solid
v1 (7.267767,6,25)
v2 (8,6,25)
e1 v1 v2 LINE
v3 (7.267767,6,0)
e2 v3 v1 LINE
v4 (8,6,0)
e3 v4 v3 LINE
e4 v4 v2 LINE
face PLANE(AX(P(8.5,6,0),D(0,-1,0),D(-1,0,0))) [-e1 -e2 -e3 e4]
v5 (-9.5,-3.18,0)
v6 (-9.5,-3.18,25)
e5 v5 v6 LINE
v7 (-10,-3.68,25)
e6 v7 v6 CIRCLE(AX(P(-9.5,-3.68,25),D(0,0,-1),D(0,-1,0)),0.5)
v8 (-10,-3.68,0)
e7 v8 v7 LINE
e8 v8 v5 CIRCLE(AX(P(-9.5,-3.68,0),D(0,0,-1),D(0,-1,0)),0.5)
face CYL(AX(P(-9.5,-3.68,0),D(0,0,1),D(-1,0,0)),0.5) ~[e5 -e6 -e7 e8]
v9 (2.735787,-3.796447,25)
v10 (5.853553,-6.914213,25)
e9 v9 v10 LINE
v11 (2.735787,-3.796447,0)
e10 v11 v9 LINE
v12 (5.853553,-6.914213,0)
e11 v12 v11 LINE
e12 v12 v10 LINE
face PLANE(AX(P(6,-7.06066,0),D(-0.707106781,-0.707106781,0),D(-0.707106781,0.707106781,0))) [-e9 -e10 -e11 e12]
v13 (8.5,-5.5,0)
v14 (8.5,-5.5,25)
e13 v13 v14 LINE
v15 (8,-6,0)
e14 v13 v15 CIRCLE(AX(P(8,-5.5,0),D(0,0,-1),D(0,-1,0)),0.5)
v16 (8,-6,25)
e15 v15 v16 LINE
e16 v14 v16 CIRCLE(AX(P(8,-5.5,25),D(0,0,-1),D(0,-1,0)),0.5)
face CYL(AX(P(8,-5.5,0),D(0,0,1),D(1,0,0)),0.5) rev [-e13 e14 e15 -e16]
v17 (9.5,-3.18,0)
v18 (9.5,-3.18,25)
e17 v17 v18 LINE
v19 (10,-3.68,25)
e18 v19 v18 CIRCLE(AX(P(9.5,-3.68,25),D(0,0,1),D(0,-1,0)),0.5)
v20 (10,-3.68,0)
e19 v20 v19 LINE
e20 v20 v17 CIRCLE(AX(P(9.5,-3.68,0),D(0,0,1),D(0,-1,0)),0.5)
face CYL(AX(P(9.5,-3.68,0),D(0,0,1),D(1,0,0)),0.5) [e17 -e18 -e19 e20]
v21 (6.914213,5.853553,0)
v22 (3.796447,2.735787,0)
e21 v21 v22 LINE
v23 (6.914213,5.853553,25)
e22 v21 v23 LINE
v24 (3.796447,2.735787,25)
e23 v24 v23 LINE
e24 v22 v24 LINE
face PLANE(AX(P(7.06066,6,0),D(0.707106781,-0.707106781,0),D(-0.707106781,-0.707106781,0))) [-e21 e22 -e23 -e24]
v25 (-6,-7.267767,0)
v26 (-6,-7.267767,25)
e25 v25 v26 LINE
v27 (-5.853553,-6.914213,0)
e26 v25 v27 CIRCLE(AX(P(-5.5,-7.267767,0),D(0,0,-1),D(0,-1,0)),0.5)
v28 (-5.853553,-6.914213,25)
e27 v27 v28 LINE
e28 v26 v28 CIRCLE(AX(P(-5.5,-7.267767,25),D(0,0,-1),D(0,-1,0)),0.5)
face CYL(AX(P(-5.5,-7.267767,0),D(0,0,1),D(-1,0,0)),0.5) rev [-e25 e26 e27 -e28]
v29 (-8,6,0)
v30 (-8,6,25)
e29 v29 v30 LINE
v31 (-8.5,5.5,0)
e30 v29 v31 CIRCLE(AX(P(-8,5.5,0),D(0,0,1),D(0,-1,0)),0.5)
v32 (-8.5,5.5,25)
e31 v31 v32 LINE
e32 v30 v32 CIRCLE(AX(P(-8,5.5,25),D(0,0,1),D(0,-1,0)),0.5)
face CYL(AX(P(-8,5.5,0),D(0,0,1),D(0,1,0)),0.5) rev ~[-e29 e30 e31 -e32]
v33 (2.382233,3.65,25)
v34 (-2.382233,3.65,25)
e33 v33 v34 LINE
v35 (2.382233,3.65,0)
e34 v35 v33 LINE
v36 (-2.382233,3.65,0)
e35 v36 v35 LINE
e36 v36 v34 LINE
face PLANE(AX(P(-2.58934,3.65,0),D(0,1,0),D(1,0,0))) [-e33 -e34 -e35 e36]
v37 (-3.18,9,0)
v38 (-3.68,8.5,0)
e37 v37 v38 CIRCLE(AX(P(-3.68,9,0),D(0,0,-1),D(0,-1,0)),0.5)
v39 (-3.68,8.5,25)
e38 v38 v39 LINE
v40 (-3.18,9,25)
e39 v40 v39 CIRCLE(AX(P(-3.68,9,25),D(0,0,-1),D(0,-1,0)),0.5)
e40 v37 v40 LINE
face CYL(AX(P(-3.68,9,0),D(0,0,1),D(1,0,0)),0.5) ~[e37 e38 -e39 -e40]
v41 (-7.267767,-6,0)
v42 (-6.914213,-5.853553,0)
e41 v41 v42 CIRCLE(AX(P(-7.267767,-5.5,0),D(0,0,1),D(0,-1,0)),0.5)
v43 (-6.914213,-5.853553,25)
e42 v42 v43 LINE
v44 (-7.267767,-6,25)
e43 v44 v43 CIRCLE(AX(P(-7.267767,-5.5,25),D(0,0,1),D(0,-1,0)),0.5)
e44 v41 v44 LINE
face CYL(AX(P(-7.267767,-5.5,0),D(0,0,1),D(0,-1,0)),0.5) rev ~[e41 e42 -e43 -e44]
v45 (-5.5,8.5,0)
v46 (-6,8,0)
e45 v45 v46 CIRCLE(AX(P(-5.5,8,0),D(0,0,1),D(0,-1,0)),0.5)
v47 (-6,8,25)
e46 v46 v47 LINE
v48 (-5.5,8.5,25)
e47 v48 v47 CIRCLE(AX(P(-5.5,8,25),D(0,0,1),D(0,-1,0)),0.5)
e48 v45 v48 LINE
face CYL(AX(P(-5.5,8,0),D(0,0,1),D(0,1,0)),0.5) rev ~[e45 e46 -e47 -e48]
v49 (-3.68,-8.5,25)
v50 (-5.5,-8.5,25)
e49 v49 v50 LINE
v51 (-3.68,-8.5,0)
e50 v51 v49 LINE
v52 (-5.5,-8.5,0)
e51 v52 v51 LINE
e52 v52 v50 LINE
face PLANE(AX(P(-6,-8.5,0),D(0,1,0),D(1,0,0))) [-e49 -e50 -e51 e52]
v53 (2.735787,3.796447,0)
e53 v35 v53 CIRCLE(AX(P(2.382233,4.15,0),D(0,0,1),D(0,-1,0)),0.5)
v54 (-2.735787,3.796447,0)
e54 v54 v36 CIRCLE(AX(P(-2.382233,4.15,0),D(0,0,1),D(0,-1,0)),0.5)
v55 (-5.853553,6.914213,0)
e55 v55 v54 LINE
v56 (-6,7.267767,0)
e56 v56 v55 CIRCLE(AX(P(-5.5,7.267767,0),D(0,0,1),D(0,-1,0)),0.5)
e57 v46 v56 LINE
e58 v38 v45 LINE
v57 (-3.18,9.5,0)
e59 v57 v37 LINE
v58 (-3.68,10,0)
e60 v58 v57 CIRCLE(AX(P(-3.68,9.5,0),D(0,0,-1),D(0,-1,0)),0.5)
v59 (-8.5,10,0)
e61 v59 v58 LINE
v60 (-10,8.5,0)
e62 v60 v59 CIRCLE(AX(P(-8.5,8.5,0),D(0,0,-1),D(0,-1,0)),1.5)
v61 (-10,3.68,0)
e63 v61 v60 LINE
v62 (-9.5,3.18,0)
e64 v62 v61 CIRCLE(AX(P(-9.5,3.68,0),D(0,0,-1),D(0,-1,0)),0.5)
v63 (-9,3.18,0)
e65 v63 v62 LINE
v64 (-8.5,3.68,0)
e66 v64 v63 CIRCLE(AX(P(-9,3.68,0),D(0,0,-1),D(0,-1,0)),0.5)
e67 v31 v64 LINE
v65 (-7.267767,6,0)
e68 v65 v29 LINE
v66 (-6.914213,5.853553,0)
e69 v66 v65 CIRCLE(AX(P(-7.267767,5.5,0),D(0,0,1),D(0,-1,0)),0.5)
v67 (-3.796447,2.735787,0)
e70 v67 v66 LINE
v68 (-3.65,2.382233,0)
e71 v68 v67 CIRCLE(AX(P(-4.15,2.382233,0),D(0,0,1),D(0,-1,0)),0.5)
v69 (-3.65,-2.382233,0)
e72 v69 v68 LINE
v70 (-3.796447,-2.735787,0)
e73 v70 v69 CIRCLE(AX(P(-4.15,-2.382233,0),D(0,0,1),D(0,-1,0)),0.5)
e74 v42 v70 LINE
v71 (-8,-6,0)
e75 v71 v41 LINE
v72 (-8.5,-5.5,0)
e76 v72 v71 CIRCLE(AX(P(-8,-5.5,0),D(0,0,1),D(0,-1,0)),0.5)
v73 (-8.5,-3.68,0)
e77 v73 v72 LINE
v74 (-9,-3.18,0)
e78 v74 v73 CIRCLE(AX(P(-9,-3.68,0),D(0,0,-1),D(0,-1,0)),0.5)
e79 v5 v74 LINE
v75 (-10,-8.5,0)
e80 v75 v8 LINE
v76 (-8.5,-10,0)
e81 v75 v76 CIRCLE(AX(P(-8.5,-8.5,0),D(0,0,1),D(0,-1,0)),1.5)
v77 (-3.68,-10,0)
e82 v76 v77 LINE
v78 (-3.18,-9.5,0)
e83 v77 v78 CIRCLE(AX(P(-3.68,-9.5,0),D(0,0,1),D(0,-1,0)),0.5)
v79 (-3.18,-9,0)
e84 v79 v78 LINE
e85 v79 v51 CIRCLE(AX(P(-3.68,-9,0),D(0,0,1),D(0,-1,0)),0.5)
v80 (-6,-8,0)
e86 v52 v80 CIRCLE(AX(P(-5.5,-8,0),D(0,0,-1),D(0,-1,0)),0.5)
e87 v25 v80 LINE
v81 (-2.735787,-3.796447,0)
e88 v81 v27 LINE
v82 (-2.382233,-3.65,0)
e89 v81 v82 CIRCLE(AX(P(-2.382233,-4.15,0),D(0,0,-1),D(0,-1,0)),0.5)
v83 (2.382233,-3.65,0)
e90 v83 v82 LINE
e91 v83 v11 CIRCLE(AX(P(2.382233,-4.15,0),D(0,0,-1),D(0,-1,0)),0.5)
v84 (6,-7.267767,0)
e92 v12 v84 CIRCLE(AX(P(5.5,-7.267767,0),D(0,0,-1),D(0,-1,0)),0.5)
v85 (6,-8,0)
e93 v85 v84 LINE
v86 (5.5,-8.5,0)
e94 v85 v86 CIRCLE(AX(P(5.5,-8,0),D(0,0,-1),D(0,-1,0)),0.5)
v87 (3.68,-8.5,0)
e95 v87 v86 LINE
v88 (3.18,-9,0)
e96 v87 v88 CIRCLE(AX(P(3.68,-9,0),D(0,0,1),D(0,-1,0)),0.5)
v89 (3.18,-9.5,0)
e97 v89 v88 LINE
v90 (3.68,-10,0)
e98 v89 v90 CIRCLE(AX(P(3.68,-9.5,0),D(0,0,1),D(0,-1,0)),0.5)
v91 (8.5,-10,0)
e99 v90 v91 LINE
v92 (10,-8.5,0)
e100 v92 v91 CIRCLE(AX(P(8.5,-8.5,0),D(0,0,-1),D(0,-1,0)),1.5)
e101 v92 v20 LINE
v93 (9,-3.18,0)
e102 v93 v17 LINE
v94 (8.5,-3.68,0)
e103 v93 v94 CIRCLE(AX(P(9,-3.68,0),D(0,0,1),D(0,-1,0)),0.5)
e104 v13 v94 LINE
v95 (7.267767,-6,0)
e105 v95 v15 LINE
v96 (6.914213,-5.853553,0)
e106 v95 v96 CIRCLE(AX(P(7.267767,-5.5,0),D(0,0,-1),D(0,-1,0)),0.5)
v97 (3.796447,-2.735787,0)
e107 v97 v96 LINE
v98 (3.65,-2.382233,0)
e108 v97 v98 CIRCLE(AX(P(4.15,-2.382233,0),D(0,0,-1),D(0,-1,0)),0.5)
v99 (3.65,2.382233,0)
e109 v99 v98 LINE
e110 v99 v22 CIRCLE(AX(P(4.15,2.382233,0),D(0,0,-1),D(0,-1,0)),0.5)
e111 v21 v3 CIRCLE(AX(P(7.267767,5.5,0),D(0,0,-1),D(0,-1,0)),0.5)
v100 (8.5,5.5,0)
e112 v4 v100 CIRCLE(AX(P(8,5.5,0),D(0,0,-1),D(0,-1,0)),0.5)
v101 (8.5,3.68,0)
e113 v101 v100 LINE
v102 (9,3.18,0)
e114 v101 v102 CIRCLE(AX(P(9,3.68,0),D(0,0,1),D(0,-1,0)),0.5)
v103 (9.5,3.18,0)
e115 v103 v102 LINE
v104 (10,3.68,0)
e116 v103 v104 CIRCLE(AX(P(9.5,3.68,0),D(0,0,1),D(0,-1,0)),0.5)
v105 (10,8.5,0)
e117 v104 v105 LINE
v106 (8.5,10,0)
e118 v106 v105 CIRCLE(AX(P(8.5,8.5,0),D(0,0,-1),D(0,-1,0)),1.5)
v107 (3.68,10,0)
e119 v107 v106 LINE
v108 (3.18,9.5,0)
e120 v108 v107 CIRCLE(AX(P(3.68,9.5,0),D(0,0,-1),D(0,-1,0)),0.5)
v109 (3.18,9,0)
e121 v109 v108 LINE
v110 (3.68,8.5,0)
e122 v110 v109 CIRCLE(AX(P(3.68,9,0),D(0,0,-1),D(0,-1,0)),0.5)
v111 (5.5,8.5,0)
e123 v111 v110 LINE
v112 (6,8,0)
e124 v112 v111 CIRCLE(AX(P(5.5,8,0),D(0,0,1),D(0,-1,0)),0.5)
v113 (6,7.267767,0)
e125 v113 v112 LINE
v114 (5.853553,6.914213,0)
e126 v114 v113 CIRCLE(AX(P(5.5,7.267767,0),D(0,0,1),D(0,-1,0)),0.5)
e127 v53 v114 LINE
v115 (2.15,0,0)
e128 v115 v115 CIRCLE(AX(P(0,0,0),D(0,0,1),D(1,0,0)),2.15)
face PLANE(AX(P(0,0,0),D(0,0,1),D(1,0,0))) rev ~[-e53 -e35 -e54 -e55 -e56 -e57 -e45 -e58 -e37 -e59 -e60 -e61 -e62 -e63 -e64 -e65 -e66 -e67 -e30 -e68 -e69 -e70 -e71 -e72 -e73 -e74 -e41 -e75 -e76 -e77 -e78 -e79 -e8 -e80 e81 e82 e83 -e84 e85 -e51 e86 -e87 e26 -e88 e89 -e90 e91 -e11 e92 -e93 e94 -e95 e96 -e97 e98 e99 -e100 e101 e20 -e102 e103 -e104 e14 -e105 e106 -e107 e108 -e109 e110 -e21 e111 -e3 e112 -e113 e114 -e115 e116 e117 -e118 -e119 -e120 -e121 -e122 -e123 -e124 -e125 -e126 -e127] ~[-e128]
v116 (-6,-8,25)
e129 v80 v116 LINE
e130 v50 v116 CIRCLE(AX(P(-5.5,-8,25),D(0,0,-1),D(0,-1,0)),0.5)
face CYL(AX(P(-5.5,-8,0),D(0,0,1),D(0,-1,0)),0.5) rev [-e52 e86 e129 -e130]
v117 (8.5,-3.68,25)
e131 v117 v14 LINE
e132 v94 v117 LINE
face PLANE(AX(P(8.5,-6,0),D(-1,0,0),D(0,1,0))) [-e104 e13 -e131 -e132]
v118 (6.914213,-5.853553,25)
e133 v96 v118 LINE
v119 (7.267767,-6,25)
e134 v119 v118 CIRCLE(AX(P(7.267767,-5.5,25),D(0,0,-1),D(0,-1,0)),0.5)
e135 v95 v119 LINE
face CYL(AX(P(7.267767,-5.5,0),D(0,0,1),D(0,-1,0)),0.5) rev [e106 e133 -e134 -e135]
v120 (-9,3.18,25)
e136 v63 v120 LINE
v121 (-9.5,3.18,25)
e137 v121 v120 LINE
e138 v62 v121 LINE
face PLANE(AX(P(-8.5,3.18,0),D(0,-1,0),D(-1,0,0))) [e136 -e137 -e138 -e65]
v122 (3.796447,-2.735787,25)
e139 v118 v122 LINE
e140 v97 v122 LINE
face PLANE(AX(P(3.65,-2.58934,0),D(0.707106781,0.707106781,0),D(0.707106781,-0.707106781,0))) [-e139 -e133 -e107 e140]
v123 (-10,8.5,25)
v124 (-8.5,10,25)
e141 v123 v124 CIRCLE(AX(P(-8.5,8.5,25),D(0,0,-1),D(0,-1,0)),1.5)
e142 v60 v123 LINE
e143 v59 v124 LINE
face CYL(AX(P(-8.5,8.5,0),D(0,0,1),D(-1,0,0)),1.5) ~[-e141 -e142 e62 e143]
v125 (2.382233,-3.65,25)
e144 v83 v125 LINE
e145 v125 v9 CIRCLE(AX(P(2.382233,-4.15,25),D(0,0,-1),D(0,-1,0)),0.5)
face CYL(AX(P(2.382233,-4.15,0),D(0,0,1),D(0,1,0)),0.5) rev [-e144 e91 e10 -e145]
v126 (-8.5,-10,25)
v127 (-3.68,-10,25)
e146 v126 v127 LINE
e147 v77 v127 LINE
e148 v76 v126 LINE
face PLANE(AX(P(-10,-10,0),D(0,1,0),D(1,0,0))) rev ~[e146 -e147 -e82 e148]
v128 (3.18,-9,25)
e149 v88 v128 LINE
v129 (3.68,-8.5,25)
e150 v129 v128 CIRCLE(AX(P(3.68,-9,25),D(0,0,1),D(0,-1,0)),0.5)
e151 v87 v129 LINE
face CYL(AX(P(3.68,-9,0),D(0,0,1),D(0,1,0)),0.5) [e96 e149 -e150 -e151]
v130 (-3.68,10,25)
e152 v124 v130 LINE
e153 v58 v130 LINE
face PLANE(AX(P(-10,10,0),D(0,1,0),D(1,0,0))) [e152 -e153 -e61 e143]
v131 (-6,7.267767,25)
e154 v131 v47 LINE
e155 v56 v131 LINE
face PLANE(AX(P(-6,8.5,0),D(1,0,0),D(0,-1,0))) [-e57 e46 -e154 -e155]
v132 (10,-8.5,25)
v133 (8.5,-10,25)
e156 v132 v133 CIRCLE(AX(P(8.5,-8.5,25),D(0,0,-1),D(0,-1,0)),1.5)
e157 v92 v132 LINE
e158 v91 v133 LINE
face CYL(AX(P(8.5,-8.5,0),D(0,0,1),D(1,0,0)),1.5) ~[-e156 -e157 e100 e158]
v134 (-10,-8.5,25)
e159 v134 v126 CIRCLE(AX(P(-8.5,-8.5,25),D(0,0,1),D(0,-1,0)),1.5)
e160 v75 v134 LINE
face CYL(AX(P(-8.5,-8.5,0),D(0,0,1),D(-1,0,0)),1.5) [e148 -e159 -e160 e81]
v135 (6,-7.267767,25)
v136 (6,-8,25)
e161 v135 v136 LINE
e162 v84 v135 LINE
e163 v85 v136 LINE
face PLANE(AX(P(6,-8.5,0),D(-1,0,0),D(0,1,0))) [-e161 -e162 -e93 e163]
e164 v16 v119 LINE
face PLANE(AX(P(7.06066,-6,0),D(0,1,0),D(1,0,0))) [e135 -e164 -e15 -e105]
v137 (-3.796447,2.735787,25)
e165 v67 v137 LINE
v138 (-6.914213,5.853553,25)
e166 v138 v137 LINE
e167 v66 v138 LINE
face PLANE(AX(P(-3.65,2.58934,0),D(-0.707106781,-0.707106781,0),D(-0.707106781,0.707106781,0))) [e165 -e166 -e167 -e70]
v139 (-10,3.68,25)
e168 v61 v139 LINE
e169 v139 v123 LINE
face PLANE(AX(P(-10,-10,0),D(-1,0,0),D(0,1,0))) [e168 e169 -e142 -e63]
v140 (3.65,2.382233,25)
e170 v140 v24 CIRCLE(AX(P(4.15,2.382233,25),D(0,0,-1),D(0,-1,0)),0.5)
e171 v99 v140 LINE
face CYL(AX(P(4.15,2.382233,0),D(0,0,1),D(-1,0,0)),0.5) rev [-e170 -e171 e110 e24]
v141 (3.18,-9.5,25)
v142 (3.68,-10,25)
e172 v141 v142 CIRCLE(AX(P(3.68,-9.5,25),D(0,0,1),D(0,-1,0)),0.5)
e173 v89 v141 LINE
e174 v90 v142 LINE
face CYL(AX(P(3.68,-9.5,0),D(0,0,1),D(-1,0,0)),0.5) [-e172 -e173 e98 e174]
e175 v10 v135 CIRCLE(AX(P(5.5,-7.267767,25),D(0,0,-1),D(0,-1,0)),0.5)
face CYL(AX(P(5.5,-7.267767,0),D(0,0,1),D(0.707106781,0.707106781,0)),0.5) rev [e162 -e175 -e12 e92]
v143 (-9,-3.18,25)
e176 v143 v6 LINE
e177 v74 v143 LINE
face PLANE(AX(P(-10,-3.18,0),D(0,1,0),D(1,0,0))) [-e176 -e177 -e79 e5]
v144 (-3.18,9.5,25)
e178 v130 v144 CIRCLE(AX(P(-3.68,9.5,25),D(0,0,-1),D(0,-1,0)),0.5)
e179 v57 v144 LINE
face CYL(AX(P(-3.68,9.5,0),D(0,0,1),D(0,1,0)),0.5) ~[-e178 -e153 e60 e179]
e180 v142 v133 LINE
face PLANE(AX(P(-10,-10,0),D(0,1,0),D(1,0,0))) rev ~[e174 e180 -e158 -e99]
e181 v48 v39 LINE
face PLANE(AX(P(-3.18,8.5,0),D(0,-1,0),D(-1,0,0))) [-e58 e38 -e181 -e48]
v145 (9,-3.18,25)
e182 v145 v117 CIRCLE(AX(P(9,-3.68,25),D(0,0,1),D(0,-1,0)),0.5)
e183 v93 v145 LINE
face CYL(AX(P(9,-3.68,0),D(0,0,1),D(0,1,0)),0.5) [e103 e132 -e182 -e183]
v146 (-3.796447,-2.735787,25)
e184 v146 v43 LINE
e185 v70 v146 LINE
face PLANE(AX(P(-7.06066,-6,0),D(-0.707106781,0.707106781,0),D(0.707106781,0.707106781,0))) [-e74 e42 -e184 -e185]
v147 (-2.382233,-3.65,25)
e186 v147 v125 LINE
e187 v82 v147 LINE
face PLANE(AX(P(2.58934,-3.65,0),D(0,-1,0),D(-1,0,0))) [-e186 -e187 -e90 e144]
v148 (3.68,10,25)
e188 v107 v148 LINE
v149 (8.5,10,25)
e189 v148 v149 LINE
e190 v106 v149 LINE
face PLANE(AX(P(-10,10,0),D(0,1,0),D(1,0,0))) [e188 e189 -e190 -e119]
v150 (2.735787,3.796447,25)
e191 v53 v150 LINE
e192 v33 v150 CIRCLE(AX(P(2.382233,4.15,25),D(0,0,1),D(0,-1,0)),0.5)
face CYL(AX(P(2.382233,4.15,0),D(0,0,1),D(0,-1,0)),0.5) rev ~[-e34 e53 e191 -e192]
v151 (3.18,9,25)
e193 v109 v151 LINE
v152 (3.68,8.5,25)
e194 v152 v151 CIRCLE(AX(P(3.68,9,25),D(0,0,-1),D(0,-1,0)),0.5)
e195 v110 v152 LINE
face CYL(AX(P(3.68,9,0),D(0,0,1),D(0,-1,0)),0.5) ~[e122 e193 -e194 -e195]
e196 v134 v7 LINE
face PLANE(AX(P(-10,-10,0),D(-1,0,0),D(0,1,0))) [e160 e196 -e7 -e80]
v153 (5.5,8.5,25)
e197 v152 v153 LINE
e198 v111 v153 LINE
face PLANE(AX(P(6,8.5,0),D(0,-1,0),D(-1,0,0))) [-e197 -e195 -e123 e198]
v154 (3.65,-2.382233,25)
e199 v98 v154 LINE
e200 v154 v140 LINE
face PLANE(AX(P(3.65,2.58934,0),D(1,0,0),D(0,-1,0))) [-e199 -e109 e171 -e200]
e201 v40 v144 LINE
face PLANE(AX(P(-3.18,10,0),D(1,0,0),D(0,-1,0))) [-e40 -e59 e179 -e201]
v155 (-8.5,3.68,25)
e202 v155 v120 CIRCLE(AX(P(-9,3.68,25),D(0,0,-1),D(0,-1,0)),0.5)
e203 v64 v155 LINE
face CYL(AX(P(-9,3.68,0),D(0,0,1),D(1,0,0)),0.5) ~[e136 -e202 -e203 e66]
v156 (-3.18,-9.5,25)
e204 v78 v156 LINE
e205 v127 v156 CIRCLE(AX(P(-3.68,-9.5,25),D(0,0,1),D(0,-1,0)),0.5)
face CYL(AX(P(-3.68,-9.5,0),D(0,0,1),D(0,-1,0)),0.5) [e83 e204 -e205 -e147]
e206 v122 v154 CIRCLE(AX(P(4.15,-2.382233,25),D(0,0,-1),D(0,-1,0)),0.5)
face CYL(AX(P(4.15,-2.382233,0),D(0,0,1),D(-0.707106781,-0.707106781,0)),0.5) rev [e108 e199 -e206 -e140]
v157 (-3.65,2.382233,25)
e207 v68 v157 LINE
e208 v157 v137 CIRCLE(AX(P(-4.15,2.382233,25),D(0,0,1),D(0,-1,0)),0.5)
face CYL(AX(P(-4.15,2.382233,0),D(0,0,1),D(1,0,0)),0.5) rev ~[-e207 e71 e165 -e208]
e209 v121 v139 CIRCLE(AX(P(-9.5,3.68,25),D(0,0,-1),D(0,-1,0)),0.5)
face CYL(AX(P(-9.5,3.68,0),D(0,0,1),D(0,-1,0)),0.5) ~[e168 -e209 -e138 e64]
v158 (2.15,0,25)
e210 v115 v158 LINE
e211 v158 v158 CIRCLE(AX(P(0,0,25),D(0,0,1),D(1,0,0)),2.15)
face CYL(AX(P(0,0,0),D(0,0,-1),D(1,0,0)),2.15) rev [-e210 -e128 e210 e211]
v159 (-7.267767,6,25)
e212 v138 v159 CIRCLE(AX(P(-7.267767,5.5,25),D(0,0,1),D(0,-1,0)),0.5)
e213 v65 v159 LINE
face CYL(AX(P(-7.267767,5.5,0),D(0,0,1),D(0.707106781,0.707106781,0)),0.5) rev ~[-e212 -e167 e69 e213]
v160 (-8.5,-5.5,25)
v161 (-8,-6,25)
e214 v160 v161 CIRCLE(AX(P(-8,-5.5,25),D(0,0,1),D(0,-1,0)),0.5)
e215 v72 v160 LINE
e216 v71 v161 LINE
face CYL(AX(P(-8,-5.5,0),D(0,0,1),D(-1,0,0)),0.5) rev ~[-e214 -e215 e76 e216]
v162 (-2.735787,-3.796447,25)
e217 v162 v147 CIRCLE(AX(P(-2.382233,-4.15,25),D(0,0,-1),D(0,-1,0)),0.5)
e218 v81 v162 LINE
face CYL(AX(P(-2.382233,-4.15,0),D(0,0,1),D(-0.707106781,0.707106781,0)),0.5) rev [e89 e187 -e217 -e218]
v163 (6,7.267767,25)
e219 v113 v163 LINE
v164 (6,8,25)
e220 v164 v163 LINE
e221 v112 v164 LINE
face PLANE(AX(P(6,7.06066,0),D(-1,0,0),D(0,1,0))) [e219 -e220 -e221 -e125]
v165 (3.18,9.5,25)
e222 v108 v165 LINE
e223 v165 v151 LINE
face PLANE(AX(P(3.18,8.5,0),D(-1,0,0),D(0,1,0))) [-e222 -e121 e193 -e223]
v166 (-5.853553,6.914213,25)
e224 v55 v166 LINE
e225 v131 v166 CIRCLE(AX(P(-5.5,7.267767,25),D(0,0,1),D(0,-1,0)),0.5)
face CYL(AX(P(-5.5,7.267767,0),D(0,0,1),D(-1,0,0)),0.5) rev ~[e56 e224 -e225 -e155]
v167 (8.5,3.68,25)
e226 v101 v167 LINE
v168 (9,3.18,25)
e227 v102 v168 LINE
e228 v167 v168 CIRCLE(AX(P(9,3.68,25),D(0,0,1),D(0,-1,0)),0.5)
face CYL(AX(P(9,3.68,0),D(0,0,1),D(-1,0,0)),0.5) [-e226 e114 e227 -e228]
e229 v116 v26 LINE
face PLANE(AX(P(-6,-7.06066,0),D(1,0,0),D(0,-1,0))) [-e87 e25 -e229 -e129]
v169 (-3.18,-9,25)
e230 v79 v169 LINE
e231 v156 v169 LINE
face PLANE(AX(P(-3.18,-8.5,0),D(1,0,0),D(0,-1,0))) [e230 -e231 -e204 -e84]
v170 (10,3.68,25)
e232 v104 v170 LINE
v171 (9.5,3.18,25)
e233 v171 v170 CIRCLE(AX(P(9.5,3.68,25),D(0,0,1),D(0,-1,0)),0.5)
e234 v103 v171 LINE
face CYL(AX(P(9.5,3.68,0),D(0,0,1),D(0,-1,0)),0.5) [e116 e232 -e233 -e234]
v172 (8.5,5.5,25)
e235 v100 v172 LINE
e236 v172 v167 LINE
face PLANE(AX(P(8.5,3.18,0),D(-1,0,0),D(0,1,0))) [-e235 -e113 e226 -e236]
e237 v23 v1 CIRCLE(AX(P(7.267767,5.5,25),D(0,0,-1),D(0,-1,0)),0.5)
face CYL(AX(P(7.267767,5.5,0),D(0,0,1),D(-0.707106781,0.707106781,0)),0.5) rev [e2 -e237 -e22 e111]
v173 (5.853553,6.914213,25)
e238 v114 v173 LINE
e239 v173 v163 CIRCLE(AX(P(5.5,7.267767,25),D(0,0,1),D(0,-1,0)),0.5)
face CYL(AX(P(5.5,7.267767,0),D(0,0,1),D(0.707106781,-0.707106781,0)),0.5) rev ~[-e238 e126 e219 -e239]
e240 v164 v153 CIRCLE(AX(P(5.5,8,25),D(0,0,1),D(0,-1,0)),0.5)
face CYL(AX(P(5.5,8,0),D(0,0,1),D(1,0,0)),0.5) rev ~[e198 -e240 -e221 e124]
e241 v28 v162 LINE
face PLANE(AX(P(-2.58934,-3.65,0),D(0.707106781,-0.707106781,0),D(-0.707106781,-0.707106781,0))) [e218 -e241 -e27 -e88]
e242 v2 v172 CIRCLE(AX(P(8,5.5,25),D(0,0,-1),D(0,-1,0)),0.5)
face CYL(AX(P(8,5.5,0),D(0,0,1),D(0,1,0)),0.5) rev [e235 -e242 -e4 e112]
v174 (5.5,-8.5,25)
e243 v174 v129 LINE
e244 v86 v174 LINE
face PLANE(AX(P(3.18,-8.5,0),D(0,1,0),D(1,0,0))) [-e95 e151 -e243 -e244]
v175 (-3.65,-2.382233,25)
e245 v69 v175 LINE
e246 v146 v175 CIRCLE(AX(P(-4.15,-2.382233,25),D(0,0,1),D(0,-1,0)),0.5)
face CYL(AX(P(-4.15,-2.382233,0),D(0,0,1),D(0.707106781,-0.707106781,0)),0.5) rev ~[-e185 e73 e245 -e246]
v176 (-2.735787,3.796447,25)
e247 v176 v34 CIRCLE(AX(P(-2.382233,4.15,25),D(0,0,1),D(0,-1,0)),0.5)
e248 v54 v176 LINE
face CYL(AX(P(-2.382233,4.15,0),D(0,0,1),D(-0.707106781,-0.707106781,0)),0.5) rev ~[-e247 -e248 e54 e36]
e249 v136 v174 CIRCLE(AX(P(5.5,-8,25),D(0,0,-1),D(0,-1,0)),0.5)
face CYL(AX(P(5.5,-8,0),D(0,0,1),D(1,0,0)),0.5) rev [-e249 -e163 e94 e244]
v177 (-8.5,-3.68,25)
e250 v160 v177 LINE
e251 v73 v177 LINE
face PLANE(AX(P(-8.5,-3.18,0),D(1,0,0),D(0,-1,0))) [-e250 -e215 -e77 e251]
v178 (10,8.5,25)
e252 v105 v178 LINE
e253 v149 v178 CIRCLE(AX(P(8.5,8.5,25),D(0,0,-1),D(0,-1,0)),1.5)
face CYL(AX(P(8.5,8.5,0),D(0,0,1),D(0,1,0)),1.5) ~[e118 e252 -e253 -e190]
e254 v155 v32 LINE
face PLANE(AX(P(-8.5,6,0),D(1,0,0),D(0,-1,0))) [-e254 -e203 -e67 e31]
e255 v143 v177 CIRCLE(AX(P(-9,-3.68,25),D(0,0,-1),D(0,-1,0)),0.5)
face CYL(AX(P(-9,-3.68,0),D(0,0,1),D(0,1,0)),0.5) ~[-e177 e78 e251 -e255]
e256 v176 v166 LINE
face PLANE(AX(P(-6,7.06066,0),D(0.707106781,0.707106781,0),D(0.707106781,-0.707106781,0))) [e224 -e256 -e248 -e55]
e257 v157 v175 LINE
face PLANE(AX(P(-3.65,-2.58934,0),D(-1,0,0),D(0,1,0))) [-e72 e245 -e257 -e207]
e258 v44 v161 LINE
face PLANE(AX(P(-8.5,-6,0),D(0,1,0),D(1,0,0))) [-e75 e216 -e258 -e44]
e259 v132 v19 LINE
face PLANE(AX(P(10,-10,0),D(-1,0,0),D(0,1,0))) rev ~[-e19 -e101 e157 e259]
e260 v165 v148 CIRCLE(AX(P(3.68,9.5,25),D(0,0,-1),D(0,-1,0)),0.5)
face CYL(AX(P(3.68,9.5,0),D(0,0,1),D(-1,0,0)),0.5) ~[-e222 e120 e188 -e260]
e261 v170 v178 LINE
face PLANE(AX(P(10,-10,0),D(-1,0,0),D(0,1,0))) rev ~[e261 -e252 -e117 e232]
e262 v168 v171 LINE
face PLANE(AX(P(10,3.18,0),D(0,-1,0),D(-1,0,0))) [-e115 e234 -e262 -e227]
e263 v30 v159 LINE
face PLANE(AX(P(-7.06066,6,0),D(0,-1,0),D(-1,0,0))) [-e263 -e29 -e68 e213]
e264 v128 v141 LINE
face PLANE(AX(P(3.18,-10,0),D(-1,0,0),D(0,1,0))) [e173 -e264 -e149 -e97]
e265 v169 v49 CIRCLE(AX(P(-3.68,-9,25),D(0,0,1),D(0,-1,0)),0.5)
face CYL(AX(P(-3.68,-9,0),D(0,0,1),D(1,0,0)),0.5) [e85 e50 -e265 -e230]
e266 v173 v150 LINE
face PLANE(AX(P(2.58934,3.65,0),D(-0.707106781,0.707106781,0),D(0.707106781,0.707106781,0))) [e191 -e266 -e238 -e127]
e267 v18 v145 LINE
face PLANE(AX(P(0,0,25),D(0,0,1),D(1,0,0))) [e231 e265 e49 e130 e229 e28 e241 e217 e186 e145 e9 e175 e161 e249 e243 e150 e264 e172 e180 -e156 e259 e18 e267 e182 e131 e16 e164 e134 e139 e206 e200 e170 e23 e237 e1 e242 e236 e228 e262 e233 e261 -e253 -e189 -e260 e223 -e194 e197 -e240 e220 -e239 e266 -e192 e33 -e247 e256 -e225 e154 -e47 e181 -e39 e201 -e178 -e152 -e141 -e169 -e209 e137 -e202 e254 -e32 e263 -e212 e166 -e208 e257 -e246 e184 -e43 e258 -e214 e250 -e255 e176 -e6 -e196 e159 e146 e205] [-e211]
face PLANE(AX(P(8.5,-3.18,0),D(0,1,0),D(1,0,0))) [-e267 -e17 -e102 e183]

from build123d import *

# Parameters (mm, degrees)
F0_W     = 20
F0_H     = 20
F0_R     = 2.15
F2_DEPTH = 25
F3_DEPTH = 25.001
F4_R     = 1.5
F5_R     = 0.5


with BuildPart() as f2:
    # F0 (on Top) → F2 (new body)
    with BuildSketch(Plane.XY):
        Rectangle(F0_W, F0_H)
        Circle(F0_R, mode=Mode.SUBTRACT)
    extrude(amount=F2_DEPTH)

    # F1 (on face) → F3 (cut, through all)
    with BuildSketch(Plane.XY):
        Polygon((-8.5, 3.18), (-10, 3.18), (-10, -3.18), (-8.5, -3.18), (-8.5, -6), (-7.06066, -6), (-3.65, -2.58934), (-3.65, 2.58934), (-7.06066, 6), (-8.5, 6), align=None)
        Polygon((-3.18, -8.5), (-3.18, -10), (3.18, -10), (3.18, -8.5), (6, -8.5), (6, -7.06066), (2.58934, -3.65), (-2.58934, -3.65), (-6, -7.06066), (-6, -8.5), align=None)
        Polygon((10, -3.18), (10, 3.18), (8.5, 3.18), (8.5, 6), (7.06066, 6), (3.65, 2.58934), (3.65, -2.58934), (7.06066, -6), (8.5, -6), (8.5, -3.18), align=None)
        Polygon((3.18, 10), (-3.18, 10), (-3.18, 8.5), (-6, 8.5), (-6, 7.06066), (-2.58934, 3.65), (2.58934, 3.65), (6, 7.06066), (6, 8.5), (3.18, 8.5), align=None)
    extrude(amount=F3_DEPTH, mode=Mode.SUBTRACT)

    # F4
    f4_edges = [f2.edges().sort_by_distance(p)[0] for p in [
        (10, -10, 12.5),
        (-10, -10, 12.5),
        (10, 10, 12.5),
        (-10, 10, 12.5),
    ]]
    fillet(f4_edges, radius=F4_R)

    # F5
    f5_edges = [f2.edges().sort_by_distance(p)[0] for p in [
        (-3.18, -10, 12.5),
        (-10, 3.18, 12.5),
        (-3.18, 10, 12.5),
        (3.18, -10, 12.5),
        (10, 3.18, 12.5),
        (10, -3.18, 12.5),
        (-10, -3.18, 12.5),
        (3.18, 10, 12.5),
        (-6, -8.5, 12.5),
        (-3.18, -8.5, 12.5),
        (3.18, -8.5, 12.5),
        (-8.5, 3.18, 12.5),
        (-8.5, -3.18, 12.5),
        (8.5, -3.18, 12.5),
        (8.5, 3.18, 12.5),
        (3.18, 8.5, 12.5),
        (6, 8.5, 12.5),
        (8.5, 6, 12.5),
        (7.06066, 6, 12.5),
        (6, 7.06066, 12.5),
        (-2.58934, -3.65, 12.5),
        (2.58934, -3.65, 12.5),
        (3.65, 2.58934, 12.5),
        (3.65, -2.58934, 12.5),
        (-3.65, -2.58934, 12.5),
        (-3.65, 2.58934, 12.5),
        (2.58934, 3.65, 12.5),
        (-2.58934, 3.65, 12.5),
        (-6, 8.5, 12.5),
        (-6, 7.06066, 12.5),
        (-3.18, 8.5, 12.5),
        (8.5, -6, 12.5),
        (7.06066, -6, 12.5),
        (-8.5, -6, 12.5),
        (-7.06066, -6, 12.5),
        (-6, -7.06066, 12.5),
        (6, -7.06066, 12.5),
        (6, -8.5, 12.5),
        (-8.5, 6, 12.5),
        (-7.06066, 6, 12.5),
    ]]
    fillet(f5_edges, radius=F5_R)


solid = f2.part
